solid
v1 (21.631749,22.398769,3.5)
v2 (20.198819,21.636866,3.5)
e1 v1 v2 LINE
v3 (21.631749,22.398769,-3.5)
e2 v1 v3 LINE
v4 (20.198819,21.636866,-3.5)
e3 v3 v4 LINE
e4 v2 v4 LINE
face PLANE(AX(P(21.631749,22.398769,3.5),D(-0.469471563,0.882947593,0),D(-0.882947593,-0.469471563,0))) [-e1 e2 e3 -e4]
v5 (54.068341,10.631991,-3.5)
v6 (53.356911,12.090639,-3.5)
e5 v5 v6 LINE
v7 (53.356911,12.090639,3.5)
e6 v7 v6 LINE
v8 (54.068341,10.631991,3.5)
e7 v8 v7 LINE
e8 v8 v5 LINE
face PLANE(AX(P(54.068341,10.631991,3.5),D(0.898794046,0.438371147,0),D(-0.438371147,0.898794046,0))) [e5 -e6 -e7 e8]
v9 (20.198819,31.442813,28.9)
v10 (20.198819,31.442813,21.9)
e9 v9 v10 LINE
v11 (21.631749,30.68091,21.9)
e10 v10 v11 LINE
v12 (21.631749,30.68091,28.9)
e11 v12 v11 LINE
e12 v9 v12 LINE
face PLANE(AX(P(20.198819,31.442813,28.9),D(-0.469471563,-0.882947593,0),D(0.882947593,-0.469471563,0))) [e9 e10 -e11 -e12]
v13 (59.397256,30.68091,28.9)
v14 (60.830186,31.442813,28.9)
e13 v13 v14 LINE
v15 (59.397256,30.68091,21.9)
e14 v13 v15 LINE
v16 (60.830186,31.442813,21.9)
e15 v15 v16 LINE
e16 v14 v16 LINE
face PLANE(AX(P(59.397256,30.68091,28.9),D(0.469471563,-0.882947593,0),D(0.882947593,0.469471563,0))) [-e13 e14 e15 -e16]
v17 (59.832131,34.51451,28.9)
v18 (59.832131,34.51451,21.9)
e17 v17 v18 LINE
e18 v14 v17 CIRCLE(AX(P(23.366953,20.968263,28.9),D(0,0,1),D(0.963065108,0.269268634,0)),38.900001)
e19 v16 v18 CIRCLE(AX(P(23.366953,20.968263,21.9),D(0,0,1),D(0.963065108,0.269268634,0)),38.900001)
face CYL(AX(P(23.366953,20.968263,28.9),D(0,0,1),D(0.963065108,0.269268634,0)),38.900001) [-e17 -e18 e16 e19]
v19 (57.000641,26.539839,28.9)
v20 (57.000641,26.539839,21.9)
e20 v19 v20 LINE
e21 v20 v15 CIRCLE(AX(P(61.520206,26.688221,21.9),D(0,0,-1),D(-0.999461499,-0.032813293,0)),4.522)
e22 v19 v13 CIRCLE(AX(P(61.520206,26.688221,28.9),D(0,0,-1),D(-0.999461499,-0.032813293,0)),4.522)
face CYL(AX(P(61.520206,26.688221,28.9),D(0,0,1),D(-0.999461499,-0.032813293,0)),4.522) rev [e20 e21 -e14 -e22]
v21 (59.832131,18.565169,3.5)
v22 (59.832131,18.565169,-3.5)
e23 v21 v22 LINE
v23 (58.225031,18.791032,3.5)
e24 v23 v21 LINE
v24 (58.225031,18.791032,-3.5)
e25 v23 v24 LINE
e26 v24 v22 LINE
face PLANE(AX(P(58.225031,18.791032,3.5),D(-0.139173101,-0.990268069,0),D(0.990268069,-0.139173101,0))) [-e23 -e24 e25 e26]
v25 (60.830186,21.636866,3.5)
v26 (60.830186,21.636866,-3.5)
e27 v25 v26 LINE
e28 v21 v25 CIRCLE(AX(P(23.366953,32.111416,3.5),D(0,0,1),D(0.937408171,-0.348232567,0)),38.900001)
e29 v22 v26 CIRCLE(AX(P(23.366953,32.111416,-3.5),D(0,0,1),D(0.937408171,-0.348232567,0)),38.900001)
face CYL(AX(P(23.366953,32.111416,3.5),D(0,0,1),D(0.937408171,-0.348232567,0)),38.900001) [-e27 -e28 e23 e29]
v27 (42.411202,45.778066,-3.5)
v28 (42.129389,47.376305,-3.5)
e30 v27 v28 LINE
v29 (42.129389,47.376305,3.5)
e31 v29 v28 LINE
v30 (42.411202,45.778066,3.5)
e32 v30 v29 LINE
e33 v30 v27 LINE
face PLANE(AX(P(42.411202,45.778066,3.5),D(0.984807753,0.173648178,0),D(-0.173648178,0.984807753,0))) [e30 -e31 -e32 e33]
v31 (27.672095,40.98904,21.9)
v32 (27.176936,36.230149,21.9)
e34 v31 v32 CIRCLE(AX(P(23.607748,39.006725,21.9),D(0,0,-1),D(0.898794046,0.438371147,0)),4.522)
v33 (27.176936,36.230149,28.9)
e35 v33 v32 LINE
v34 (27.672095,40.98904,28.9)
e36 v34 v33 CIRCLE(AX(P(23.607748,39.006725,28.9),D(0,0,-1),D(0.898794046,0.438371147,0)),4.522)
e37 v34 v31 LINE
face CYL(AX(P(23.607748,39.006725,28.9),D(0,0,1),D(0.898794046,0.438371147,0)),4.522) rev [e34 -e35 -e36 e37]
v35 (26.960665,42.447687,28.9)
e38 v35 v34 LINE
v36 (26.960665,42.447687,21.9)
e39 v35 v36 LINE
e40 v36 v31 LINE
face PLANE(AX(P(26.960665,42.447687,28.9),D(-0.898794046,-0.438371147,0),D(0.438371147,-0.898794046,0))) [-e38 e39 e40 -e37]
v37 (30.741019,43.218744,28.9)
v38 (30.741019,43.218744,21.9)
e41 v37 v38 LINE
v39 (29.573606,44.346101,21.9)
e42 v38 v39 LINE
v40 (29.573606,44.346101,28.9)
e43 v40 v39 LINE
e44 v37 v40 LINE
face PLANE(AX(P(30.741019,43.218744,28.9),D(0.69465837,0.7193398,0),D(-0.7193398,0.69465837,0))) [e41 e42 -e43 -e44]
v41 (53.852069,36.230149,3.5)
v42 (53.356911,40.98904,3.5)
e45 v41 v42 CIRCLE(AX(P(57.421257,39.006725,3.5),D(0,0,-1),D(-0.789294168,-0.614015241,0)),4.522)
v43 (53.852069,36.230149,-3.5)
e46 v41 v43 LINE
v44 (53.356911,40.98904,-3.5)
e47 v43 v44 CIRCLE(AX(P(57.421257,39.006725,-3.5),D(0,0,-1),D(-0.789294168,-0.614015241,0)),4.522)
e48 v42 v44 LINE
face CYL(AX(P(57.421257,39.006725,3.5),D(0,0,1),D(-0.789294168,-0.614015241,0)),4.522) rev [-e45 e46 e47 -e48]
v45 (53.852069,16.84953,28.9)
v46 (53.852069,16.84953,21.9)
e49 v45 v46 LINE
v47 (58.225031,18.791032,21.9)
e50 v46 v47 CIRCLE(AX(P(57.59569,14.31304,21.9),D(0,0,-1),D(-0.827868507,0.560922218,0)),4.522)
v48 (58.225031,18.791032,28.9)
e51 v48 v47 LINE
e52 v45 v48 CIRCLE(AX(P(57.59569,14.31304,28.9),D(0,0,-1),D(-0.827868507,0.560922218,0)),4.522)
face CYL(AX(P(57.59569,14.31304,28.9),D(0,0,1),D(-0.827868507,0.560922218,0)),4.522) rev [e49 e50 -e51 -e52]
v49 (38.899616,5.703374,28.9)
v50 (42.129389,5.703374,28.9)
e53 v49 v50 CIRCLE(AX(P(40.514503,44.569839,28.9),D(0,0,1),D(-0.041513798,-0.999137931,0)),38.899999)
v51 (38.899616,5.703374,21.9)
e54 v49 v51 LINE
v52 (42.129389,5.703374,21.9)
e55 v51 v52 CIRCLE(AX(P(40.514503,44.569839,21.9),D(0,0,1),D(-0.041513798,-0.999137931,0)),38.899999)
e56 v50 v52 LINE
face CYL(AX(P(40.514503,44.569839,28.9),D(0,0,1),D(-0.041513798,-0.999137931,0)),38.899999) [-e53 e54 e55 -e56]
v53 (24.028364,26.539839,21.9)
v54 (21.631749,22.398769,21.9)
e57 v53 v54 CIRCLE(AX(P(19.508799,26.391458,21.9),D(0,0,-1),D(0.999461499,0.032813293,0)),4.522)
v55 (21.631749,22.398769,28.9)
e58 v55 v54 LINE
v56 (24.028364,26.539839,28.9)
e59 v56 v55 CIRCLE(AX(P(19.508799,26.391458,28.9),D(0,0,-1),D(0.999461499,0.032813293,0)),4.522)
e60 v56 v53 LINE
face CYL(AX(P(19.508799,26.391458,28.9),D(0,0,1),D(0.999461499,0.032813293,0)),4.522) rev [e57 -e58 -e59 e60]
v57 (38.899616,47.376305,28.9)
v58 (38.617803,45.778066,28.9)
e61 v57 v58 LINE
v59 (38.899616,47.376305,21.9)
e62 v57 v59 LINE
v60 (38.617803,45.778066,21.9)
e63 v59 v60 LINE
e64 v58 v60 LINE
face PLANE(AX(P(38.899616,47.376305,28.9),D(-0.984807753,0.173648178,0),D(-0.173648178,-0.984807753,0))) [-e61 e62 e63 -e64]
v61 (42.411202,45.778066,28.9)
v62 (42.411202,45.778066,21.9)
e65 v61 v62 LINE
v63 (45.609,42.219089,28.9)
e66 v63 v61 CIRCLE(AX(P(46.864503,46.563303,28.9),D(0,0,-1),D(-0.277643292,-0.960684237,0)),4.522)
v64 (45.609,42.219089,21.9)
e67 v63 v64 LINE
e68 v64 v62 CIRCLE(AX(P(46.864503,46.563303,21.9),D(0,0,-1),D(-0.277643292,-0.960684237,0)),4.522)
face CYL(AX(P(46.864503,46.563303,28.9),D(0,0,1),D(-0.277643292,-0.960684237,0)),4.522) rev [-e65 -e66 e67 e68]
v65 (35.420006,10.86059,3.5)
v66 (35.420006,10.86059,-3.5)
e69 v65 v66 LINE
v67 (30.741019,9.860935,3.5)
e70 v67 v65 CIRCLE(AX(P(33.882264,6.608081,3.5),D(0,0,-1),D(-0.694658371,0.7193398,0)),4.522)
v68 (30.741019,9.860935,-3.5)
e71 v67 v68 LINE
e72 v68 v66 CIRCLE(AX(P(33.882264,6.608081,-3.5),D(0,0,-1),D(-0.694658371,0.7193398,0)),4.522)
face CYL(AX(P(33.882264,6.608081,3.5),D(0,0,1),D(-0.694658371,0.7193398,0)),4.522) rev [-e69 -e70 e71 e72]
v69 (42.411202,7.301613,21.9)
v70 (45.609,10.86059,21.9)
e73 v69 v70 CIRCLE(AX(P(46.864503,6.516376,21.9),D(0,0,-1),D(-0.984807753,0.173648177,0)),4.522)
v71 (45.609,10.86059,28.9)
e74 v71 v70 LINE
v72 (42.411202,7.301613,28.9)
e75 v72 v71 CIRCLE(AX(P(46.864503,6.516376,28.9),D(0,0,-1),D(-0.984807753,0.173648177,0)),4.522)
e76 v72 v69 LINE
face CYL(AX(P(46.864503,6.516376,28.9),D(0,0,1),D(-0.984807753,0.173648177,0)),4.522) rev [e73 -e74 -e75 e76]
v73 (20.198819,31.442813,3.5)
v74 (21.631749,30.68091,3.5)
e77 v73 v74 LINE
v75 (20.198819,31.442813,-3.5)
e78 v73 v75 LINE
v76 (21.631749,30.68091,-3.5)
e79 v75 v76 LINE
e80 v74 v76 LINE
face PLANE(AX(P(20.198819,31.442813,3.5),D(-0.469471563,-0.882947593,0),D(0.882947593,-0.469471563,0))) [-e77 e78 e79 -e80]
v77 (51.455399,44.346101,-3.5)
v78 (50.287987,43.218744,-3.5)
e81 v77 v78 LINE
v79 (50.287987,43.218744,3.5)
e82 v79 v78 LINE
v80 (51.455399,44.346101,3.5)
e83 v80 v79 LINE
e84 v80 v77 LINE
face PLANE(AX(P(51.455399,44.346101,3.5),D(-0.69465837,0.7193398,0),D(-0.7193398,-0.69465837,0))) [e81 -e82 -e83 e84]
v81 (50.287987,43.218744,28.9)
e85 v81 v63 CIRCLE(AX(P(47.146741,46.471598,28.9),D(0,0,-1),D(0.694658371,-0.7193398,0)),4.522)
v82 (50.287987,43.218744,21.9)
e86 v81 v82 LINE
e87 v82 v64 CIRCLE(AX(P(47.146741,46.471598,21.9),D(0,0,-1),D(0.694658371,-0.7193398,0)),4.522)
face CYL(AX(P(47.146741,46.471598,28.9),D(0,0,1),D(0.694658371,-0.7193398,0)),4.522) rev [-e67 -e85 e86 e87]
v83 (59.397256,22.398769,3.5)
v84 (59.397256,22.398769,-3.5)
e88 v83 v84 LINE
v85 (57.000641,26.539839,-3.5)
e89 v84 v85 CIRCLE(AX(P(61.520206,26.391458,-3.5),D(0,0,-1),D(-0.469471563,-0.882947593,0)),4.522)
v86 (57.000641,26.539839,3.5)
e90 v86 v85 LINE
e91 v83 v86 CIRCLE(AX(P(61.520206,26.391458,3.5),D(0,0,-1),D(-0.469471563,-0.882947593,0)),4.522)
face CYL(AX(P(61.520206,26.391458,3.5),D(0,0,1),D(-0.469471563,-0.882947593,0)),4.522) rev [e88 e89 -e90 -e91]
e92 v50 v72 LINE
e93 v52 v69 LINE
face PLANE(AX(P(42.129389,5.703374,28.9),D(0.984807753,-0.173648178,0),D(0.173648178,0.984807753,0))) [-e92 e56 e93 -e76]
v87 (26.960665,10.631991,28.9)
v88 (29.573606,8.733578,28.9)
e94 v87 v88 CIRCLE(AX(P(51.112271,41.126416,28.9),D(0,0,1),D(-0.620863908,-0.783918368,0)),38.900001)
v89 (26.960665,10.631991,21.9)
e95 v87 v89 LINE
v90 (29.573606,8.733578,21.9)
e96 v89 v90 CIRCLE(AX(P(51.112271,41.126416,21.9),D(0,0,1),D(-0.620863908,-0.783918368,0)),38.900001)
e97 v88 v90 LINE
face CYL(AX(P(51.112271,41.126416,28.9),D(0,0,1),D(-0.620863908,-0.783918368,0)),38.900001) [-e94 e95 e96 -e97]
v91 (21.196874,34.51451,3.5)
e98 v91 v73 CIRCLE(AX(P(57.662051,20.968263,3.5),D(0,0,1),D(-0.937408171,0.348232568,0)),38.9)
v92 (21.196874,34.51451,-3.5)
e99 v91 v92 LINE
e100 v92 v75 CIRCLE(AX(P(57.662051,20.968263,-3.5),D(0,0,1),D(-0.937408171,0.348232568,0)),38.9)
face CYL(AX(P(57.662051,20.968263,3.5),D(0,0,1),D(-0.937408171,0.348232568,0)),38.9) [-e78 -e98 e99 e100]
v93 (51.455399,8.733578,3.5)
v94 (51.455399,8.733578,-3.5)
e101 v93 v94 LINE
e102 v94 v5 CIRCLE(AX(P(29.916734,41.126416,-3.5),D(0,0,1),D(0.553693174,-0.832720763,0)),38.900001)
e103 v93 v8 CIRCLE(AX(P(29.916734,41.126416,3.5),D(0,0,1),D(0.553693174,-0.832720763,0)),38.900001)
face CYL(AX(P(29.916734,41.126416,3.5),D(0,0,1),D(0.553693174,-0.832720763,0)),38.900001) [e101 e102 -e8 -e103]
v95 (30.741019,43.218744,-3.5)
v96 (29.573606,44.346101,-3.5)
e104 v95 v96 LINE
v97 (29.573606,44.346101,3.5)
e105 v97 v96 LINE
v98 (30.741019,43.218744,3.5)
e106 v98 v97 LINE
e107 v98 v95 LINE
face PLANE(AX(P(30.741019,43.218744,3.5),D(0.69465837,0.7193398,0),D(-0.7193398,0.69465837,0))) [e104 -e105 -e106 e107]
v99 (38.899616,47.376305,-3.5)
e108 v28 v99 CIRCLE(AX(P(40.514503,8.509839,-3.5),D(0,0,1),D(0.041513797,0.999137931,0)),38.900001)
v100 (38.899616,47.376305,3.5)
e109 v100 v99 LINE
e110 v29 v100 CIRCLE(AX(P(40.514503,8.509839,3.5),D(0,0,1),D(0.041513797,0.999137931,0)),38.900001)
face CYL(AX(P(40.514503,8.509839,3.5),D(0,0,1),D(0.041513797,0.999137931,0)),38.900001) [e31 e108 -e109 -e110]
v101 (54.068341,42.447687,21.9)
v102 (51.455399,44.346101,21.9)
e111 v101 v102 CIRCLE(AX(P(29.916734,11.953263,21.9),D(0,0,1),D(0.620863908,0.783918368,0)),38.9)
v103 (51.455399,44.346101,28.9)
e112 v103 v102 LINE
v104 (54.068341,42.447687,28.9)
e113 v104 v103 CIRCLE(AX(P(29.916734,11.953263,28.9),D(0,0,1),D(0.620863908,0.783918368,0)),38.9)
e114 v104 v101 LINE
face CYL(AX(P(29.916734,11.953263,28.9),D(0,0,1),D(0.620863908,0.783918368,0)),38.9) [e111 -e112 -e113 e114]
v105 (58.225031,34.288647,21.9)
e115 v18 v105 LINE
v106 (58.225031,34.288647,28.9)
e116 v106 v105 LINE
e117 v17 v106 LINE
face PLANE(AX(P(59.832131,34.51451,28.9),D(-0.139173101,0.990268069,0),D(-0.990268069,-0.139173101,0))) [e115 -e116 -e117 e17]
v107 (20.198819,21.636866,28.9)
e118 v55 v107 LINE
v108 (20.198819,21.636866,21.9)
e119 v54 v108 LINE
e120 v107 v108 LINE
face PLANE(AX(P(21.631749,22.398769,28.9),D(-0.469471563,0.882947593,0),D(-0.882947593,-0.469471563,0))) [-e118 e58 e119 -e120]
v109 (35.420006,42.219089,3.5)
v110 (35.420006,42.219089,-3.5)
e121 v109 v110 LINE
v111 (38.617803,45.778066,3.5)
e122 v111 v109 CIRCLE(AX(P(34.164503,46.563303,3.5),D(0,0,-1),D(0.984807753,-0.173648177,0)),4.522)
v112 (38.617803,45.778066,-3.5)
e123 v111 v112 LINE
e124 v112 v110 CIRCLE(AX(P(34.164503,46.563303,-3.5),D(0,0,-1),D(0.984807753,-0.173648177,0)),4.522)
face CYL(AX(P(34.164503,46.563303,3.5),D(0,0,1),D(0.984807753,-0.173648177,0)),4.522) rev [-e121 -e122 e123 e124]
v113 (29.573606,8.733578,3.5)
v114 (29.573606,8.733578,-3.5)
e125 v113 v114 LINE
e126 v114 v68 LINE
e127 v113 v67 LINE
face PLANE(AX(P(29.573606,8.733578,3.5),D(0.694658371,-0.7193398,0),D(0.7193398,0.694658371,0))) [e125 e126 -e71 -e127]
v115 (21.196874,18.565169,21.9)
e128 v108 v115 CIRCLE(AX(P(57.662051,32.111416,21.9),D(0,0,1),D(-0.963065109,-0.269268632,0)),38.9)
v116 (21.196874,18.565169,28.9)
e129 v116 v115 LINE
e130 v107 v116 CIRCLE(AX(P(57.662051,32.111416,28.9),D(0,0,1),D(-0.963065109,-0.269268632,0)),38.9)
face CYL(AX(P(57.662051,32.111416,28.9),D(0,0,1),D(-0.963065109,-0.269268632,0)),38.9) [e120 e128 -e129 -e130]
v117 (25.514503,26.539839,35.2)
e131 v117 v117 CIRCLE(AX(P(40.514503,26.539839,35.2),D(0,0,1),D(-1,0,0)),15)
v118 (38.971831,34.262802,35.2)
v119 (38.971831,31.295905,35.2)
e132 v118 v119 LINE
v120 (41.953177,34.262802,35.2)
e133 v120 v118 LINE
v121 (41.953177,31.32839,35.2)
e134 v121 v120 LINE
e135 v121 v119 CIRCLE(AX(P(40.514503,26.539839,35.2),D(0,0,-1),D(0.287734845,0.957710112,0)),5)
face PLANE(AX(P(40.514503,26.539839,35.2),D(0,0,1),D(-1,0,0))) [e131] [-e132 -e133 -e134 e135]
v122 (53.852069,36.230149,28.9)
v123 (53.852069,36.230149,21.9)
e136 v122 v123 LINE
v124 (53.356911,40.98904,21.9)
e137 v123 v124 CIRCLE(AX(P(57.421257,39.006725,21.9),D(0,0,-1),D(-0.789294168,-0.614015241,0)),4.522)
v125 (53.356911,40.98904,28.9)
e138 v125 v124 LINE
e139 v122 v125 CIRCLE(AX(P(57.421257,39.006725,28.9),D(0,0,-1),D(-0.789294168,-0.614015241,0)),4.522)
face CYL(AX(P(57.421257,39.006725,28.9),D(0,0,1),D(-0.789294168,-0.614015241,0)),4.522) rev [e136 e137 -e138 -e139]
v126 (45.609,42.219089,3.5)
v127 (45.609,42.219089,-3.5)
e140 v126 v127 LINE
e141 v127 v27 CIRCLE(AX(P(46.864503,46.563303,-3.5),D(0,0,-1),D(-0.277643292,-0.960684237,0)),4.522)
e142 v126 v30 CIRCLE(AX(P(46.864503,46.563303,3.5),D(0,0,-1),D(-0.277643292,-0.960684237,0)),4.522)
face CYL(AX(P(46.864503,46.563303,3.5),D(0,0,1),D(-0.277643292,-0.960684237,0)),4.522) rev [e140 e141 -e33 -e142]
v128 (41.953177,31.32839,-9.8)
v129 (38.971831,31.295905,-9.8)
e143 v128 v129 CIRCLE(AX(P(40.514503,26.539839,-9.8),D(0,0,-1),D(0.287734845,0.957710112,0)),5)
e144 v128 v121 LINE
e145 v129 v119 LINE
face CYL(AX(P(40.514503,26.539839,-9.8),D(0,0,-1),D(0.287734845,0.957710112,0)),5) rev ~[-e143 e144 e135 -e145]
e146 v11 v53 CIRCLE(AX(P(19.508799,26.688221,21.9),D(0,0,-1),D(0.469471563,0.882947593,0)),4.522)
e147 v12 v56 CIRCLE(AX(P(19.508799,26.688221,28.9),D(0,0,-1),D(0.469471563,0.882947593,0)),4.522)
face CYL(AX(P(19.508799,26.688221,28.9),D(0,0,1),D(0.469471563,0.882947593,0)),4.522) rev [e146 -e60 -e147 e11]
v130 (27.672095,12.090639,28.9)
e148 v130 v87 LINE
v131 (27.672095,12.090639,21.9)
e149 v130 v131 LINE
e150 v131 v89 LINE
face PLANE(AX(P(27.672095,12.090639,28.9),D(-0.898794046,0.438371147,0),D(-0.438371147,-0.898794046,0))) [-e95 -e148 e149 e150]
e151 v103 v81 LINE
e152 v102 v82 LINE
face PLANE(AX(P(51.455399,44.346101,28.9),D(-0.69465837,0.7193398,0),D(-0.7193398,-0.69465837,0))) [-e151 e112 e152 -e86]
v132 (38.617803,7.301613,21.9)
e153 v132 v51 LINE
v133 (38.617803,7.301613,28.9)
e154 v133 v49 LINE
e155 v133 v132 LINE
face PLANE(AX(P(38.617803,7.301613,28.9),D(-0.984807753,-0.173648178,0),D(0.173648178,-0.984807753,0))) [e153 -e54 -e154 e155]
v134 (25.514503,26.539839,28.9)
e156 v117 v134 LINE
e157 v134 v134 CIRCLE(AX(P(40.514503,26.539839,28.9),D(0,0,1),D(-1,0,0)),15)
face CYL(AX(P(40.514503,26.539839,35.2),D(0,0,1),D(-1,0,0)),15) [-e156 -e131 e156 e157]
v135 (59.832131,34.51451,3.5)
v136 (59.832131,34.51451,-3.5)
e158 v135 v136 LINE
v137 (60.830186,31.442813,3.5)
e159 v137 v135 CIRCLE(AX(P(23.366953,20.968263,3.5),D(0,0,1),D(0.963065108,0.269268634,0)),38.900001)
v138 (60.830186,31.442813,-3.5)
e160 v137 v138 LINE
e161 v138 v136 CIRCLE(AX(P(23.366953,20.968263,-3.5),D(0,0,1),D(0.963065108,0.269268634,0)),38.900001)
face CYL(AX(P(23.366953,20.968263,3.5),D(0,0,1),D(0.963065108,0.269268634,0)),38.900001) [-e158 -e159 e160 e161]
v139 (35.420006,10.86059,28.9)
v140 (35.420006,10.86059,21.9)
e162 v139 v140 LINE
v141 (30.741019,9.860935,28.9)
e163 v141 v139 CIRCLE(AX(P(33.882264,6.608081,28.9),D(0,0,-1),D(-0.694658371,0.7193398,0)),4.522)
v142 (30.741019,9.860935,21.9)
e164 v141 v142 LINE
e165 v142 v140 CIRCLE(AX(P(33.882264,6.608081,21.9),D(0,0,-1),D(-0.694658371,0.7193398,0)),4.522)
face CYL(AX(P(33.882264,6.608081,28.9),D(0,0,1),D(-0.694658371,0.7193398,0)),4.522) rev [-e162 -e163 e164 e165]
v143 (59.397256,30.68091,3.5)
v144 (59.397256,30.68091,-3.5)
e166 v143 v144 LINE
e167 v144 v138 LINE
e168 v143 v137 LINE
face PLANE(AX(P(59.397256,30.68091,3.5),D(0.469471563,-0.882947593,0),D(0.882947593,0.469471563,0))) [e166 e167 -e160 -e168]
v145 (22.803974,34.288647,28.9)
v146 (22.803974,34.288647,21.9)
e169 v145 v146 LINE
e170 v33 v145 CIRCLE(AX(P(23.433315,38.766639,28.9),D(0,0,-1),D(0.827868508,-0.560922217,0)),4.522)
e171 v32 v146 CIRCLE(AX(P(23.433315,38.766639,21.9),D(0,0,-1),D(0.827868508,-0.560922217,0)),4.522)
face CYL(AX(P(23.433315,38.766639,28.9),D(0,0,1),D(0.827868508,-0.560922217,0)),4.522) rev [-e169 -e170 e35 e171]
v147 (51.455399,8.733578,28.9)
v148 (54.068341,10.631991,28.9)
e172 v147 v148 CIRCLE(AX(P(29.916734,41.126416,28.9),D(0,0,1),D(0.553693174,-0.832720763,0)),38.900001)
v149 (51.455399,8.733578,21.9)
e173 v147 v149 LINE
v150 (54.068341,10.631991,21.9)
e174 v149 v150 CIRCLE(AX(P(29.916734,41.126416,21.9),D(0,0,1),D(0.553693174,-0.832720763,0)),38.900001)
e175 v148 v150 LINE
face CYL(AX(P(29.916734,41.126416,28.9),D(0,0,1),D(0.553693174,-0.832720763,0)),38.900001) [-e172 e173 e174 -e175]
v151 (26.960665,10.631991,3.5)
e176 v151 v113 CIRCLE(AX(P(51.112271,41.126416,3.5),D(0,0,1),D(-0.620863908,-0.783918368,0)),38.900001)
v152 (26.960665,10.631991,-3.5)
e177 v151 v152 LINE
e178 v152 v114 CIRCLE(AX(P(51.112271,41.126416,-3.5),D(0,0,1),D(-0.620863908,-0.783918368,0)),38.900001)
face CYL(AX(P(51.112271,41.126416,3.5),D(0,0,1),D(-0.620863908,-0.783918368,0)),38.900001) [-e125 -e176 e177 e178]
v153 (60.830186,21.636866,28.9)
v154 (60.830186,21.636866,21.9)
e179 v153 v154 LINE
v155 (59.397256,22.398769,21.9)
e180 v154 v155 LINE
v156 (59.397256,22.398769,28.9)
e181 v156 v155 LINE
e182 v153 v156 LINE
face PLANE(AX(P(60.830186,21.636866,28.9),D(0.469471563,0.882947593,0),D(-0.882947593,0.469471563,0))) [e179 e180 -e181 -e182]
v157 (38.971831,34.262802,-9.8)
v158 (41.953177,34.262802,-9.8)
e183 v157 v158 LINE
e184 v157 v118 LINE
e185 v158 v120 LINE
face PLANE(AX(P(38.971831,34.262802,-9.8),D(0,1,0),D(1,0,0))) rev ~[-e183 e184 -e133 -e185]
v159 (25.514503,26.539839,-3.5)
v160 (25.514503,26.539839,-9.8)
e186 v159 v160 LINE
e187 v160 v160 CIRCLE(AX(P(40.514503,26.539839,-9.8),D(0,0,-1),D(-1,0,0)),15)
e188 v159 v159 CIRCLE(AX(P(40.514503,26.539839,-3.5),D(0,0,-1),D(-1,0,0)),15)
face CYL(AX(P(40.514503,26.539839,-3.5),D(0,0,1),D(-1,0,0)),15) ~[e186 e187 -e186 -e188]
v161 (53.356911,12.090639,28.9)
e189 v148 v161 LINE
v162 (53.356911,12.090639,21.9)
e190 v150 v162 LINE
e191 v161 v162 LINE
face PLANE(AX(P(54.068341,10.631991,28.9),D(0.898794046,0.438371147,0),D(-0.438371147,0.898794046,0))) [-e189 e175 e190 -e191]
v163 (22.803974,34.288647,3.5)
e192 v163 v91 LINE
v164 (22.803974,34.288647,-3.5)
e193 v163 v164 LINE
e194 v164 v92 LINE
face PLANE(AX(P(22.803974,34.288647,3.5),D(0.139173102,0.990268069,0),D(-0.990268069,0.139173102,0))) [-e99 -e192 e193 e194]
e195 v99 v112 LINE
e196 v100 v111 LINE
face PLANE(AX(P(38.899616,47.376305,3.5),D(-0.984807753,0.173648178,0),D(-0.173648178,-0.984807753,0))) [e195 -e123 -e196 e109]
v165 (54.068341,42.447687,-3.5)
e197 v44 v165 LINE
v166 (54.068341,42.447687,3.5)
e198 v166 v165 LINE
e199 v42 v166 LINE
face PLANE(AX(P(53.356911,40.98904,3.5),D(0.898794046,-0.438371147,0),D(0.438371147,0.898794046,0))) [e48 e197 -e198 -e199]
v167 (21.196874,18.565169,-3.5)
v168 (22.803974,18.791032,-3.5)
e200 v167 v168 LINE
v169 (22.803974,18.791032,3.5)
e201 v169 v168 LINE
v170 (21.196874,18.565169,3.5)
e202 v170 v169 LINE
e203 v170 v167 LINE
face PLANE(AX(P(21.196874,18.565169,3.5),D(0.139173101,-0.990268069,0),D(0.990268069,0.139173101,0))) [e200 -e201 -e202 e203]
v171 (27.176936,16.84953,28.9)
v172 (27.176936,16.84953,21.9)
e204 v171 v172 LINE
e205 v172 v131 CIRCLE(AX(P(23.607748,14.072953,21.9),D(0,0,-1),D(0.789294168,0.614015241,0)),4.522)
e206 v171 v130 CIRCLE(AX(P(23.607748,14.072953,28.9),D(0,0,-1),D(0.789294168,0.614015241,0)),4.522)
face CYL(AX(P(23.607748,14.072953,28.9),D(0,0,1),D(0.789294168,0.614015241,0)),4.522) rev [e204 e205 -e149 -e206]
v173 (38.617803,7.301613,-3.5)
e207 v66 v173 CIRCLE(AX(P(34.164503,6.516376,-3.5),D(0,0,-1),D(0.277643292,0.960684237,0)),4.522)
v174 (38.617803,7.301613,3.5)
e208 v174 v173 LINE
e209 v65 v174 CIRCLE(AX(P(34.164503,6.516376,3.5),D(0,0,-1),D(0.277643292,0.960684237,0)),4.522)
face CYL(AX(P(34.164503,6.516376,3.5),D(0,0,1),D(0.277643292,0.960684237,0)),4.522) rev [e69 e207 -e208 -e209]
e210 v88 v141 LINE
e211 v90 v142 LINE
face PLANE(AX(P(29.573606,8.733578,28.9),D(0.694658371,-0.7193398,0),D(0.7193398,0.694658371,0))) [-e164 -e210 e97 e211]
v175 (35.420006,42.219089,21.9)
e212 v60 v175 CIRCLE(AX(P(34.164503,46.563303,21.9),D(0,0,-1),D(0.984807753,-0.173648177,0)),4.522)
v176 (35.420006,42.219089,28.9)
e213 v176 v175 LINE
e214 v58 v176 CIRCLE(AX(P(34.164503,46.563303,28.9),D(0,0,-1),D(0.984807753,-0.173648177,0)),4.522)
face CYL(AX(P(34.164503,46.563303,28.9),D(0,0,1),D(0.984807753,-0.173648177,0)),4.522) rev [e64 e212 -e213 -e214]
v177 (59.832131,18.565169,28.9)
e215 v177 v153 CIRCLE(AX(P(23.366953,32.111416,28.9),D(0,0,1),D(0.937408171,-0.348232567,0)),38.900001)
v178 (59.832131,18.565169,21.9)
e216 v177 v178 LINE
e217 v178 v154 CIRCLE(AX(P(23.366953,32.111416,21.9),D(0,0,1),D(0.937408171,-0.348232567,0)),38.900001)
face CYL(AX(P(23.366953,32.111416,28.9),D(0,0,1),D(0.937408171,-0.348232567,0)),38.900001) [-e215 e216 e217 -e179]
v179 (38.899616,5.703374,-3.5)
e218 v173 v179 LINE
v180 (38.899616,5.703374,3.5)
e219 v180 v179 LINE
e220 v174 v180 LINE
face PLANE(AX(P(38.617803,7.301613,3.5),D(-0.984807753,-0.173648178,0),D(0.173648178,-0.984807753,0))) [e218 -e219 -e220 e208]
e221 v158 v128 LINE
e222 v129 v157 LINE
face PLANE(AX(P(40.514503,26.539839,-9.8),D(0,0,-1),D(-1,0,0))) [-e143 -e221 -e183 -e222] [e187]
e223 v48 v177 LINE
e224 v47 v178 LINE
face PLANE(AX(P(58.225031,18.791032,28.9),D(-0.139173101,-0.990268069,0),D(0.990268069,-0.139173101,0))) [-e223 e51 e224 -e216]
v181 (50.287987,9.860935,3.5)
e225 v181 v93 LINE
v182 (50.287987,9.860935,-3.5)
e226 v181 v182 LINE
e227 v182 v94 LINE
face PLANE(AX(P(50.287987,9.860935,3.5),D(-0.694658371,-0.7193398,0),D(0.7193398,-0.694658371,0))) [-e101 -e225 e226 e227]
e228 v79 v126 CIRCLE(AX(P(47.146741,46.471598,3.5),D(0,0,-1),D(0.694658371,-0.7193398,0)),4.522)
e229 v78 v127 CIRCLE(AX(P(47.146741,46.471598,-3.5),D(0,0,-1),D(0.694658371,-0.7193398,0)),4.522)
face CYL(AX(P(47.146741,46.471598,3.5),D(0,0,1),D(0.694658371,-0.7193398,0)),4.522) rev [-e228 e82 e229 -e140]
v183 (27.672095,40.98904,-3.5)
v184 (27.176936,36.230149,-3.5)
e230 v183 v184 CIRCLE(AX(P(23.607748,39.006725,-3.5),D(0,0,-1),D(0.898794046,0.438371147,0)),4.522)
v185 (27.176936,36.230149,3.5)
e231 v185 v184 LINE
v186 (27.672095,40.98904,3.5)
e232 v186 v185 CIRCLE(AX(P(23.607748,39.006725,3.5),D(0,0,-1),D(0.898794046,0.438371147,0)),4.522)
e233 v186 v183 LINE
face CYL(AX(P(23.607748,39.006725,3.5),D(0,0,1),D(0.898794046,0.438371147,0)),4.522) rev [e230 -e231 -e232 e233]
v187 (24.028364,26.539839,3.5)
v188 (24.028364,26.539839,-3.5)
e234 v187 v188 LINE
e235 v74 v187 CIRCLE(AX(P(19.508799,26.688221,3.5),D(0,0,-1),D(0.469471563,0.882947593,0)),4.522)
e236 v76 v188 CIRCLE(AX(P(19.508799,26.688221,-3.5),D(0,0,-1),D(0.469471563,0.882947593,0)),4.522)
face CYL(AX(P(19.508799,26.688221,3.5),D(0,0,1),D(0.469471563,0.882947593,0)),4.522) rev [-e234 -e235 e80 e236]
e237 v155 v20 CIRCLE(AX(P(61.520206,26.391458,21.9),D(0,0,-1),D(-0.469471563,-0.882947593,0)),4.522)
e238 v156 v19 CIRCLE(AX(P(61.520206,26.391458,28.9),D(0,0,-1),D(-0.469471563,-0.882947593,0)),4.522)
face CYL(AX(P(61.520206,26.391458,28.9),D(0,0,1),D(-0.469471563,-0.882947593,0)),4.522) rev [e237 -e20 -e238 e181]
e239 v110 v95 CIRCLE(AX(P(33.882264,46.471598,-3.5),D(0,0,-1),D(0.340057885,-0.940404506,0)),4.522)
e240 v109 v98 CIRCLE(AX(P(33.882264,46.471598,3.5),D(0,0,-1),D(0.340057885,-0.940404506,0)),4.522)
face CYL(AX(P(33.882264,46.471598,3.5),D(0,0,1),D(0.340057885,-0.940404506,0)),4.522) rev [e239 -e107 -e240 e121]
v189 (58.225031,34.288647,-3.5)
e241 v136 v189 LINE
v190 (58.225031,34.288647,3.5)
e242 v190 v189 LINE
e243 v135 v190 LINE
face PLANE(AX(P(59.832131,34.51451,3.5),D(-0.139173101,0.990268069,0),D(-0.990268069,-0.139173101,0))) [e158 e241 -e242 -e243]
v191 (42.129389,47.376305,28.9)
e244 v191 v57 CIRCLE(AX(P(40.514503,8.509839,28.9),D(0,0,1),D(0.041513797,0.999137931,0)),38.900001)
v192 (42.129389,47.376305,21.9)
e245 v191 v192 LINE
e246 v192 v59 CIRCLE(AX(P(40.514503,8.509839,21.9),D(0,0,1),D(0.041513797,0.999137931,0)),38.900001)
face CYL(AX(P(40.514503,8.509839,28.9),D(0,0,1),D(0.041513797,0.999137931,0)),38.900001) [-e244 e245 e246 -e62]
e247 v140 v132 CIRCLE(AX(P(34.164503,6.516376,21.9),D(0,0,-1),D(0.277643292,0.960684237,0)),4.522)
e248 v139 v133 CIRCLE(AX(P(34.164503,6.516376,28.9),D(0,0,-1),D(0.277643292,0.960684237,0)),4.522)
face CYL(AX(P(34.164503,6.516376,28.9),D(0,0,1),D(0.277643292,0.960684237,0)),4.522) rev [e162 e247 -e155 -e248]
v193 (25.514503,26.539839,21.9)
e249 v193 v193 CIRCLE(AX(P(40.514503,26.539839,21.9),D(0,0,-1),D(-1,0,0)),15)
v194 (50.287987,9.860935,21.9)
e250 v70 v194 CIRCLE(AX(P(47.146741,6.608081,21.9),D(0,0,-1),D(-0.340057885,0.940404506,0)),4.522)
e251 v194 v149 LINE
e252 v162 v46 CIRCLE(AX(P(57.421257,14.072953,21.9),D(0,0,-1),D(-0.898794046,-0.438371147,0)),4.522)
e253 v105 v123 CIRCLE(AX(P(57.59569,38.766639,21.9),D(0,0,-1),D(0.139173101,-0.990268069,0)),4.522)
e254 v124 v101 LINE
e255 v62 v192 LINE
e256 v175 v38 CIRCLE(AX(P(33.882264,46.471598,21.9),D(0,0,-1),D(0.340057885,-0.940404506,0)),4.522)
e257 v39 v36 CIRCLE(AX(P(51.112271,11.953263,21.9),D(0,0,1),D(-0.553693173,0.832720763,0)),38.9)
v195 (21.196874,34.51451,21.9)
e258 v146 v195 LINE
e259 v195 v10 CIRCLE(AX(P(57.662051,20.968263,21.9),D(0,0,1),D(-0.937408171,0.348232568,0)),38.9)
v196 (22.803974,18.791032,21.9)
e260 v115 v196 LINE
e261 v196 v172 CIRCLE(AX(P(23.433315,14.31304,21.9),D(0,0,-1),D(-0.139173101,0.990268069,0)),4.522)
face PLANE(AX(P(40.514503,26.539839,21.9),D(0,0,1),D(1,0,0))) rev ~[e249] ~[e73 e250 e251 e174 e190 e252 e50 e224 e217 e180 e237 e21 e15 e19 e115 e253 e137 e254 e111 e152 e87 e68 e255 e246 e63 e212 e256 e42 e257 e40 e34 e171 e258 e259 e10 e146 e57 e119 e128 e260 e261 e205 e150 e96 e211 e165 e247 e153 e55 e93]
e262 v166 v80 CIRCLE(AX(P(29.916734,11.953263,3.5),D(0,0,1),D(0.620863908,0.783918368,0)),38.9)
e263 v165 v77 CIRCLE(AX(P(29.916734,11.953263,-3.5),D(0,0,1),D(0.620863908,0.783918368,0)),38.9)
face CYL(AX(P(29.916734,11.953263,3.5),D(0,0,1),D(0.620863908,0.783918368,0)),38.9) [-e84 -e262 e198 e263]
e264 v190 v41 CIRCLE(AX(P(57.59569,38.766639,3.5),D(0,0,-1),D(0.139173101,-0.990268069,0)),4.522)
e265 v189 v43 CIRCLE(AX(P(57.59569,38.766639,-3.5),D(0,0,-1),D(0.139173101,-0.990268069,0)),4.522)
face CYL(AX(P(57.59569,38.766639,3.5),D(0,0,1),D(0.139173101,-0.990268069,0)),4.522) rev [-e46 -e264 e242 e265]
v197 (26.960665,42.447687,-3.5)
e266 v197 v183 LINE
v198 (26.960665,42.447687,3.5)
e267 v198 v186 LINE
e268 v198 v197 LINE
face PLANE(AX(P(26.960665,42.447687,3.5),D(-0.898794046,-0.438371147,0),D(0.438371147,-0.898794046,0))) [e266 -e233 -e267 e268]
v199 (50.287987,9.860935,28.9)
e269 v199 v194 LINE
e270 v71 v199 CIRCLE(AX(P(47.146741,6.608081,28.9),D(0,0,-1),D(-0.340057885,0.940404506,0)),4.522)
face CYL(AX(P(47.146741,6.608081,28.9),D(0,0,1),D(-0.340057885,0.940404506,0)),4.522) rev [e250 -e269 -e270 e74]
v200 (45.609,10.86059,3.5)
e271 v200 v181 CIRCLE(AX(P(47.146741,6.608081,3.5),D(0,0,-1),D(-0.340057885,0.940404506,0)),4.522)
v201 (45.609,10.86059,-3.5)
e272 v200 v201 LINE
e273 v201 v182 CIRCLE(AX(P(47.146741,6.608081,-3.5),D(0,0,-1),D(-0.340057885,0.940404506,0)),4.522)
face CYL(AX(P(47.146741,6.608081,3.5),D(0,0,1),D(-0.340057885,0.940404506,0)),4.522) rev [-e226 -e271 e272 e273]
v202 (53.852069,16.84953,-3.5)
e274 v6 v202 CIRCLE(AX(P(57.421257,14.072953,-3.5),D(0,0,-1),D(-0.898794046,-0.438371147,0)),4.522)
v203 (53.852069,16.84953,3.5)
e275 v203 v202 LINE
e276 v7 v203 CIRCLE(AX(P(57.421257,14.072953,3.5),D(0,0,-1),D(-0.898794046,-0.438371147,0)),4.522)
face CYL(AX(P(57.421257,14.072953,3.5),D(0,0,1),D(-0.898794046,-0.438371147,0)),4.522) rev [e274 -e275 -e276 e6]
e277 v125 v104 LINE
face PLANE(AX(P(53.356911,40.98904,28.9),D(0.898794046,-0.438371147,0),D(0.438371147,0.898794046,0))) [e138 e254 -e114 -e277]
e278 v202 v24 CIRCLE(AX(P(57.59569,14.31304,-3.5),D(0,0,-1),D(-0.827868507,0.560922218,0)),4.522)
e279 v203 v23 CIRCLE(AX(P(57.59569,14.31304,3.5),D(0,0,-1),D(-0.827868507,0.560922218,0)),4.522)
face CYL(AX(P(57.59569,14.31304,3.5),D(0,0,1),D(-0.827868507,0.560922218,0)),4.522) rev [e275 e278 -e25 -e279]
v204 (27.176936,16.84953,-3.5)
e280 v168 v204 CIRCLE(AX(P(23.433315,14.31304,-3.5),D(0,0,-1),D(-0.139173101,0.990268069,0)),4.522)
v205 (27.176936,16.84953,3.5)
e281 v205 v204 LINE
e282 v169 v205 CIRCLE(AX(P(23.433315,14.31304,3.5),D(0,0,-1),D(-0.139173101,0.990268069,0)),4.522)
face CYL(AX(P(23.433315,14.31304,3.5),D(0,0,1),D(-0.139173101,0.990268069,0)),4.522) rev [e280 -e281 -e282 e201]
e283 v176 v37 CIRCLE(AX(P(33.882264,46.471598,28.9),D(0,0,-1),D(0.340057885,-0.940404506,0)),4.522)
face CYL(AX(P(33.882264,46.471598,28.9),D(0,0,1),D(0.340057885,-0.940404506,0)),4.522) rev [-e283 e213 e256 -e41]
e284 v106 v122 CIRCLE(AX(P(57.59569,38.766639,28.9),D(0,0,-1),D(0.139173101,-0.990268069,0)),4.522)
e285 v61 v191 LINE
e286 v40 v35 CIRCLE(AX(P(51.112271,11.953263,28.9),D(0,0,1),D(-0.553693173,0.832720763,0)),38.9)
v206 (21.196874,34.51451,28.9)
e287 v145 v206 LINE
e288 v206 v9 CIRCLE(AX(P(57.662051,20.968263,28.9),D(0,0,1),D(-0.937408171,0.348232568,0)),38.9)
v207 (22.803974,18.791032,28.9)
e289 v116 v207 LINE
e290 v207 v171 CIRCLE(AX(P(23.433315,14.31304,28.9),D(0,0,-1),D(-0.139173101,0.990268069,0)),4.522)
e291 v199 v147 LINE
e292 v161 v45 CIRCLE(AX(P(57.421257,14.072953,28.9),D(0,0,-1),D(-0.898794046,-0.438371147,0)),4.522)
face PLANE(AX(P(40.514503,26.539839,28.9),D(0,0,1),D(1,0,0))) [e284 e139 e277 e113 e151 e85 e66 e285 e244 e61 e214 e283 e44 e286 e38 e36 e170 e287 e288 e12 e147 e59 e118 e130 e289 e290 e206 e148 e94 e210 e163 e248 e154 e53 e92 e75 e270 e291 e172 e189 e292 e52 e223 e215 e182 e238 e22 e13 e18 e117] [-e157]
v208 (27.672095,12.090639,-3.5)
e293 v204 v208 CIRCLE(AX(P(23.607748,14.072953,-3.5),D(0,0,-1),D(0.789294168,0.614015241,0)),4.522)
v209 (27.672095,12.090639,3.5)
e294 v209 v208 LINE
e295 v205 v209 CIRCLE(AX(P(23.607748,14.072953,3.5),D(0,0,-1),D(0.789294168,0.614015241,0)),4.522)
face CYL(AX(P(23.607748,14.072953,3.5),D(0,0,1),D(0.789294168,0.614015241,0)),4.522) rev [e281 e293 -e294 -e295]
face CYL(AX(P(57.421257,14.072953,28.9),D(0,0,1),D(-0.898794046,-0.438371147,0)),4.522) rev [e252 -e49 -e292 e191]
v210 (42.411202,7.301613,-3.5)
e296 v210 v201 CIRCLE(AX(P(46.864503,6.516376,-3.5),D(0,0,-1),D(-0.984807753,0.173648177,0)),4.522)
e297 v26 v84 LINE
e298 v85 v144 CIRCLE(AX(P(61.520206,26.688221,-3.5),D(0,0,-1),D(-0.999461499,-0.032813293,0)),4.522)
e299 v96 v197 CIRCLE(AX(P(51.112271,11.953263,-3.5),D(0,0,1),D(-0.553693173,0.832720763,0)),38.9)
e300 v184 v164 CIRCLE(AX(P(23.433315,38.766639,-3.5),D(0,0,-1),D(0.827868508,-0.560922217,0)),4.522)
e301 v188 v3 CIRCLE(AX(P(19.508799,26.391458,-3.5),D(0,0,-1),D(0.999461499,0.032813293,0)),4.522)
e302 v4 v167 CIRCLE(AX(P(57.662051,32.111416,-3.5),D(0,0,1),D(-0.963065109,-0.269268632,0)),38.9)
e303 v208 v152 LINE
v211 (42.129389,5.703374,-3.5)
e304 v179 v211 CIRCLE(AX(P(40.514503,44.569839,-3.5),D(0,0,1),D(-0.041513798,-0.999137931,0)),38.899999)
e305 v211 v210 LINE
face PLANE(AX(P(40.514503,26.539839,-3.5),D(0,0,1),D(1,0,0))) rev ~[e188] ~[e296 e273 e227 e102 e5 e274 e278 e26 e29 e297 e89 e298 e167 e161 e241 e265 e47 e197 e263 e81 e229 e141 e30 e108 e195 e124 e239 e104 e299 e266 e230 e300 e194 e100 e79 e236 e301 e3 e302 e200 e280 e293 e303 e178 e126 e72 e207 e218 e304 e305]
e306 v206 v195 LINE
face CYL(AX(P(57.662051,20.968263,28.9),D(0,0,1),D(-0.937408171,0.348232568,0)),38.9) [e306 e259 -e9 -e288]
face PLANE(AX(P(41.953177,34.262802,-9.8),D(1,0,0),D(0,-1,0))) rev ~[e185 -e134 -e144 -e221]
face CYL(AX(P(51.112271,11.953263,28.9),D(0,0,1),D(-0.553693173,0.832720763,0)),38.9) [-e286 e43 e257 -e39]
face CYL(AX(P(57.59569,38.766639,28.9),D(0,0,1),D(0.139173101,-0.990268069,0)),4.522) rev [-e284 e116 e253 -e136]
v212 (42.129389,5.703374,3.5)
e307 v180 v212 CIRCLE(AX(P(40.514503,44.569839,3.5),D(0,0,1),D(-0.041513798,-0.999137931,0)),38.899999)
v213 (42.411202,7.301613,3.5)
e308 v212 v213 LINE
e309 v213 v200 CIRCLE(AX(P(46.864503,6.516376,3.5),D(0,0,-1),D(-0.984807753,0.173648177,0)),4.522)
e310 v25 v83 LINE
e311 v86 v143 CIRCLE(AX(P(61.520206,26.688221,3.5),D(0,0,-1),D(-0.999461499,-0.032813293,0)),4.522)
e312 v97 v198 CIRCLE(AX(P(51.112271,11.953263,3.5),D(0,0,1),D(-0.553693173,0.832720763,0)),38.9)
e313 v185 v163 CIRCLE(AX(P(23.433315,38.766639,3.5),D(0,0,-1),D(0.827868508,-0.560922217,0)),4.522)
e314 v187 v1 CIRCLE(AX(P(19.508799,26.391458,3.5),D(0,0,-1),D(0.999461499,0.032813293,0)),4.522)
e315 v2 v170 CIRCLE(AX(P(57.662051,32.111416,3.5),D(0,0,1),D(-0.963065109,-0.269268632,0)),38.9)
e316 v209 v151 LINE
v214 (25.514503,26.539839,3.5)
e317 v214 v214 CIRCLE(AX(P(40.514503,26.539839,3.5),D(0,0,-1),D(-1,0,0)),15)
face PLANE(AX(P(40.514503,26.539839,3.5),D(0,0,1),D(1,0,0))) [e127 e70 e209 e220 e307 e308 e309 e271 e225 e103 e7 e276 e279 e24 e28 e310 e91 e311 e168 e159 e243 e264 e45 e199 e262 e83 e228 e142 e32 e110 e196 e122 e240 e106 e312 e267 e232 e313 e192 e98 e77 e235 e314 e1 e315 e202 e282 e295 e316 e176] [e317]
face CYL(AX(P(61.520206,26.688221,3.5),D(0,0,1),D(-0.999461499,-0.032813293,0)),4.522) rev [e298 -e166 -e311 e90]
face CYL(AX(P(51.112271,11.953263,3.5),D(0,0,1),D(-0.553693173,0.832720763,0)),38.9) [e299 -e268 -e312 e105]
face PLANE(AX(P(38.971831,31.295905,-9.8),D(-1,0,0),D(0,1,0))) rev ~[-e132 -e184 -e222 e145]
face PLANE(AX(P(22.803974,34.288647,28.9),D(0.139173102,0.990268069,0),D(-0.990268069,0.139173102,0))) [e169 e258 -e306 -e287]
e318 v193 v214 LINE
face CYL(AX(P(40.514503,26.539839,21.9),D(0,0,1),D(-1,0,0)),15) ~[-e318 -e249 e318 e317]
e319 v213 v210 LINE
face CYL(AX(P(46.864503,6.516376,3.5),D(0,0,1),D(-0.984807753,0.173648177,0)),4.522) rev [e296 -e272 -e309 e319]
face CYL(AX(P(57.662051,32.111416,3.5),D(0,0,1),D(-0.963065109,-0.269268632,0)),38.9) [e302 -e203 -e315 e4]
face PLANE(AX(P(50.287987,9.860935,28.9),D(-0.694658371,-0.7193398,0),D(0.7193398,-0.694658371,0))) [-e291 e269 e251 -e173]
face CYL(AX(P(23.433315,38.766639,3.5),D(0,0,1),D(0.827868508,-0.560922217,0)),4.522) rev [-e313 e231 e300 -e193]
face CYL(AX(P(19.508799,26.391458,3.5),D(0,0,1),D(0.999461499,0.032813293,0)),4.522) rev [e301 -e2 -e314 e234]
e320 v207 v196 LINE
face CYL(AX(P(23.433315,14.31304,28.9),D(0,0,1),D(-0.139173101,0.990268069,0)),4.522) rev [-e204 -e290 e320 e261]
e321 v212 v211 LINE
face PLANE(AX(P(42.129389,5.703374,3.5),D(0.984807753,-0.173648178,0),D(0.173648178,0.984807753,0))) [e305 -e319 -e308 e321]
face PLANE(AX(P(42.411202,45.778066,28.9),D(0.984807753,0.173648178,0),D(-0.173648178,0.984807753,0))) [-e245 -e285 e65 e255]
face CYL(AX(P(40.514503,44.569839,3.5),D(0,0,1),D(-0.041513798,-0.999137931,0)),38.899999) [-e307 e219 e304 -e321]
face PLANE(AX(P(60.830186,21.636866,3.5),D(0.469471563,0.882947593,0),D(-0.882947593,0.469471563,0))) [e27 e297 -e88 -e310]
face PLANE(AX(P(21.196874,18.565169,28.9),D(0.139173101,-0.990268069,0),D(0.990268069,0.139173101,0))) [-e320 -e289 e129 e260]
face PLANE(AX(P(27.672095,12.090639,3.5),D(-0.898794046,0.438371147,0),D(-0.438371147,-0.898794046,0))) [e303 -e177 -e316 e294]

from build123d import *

# Parameters (mm, degrees)
EXTRUDE_1_DEPTH     = 7
SKETCH_2_R          = 15
EXTRUDE_2_DEPTH     = 18.4
EXTRUDE_3_DEPTH     = 7
EXTRUDE_START       = 6.3
SKETCH_4_R          = 15
EXTRUDE_4_DEPTH     = 6.3
SKETCH_5_R          = 15
EXTRUDE_5_DEPTH     = 6.3
CUT_EXTRUDE_1_DEPTH = 90.291681756


with BuildPart() as part:
    # 草图1 → 凸台-拉伸1 (new body)
    with BuildSketch(Plane.XY.offset(28.9)):
        with BuildLine():
            Line((42.411201909, 45.77806603), (42.129389286, 47.376304833))
            ThreePointArc((42.129389286, 47.376304833), (40.514502568, 47.409839327), (38.89961585, 47.376304833))
            Line((38.89961585, 47.376304833), (38.617803227, 45.77806603))
            ThreePointArc((38.617803227, 45.77806603), (37.528159676, 43.541003491), (35.420005537, 42.219088972))
            ThreePointArc((35.420005537, 42.219088972), (32.937471152, 42.04939837), (30.741018632, 43.218743572))
            Line((30.741018632, 43.218743572), (29.573606233, 44.346100621))
            ThreePointArc((29.573606233, 44.346100621), (28.247424353, 43.424024), (26.960664635, 42.447687427))
            Line((26.960664635, 42.447687427), (27.672094632, 40.98903977))
            ThreePointArc((27.672094632, 40.98903977), (28.10546685, 38.538741749), (27.176936184, 36.230148526))
            ThreePointArc((27.176936184, 36.230148526), (25.268265311, 34.633668845), (22.80397403, 34.288646587))
            Line((22.80397403, 34.288646587), (21.196873713, 34.514509808))
            ThreePointArc((21.196873713, 34.514509808), (20.665953073, 32.989024), (20.198818833, 31.442812735))
            Line((20.198818833, 31.442812735), (21.631749371, 30.680910052))
            ThreePointArc((21.631749371, 30.680910052), (23.422603901, 28.95330711), (24.028363863, 26.539839327))
            ThreePointArc((24.028363863, 26.539839327), (23.422603901, 24.126371544), (21.631749371, 22.398768602))
            Line((21.631749371, 22.398768602), (20.198818833, 21.63686592))
            ThreePointArc((20.198818833, 21.63686592), (20.665953073, 20.090654655), (21.196873713, 18.565168847))
            Line((21.196873713, 18.565168847), (22.80397403, 18.791032067))
            ThreePointArc((22.80397403, 18.791032067), (25.268265311, 18.446009809), (27.176936184, 16.849530129))
            ThreePointArc((27.176936184, 16.849530129), (28.10546685, 14.540936905), (27.672094632, 12.090638884))
            Line((27.672094632, 12.090638884), (26.960664635, 10.631991228))
            ThreePointArc((26.960664635, 10.631991228), (28.247424353, 9.655654655), (29.573606233, 8.733578033))
            Line((29.573606233, 8.733578033), (30.741018632, 9.860935083))
            ThreePointArc((30.741018632, 9.860935083), (32.937471152, 11.030280285), (35.420005536, 10.860589683))
            ThreePointArc((35.420005536, 10.860589683), (37.528159676, 9.538675164), (38.617803227, 7.301612625))
            Line((38.617803227, 7.301612625), (38.89961585, 5.703373822))
            ThreePointArc((38.89961585, 5.703373822), (40.514502568, 5.669839327), (42.129389286, 5.703373822))
            Line((42.129389286, 5.703373822), (42.411201909, 7.301612625))
            ThreePointArc((42.411201909, 7.301612625), (43.50084546, 9.538675164), (45.6089996, 10.860589683))
            ThreePointArc((45.6089996, 10.860589683), (48.091533984, 11.030280285), (50.287986504, 9.860935083))
            Line((50.287986504, 9.860935083), (51.455398903, 8.733578033))
            ThreePointArc((51.455398903, 8.733578033), (52.781580783, 9.655654655), (54.068340501, 10.631991228))
            Line((54.068340501, 10.631991228), (53.356910504, 12.090638884))
            ThreePointArc((53.356910504, 12.090638884), (52.923538286, 14.540936905), (53.852068952, 16.849530129))
            ThreePointArc((53.852068952, 16.849530129), (55.760739826, 18.446009809), (58.225031106, 18.791032067))
            Line((58.225031106, 18.791032067), (59.832131424, 18.565168847))
            ThreePointArc((59.832131424, 18.565168847), (60.363052063, 20.090654655), (60.830186304, 21.63686592))
            Line((60.830186304, 21.63686592), (59.397255765, 22.398768602))
            ThreePointArc((59.397255765, 22.398768602), (57.606401235, 24.126371544), (57.000641274, 26.539839327))
            ThreePointArc((57.000641274, 26.539839327), (57.606401235, 28.95330711), (59.397255765, 30.680910052))
            Line((59.397255765, 30.680910052), (60.830186304, 31.442812735))
            ThreePointArc((60.830186304, 31.442812735), (60.363052063, 32.989024), (59.832131424, 34.514509808))
            Line((59.832131424, 34.514509808), (58.225031106, 34.288646587))
            ThreePointArc((58.225031106, 34.288646587), (55.760739826, 34.633668845), (53.852068952, 36.230148526))
            ThreePointArc((53.852068952, 36.230148526), (52.923538286, 38.538741749), (53.356910504, 40.98903977))
            Line((53.356910504, 40.98903977), (54.068340501, 42.447687427))
            ThreePointArc((54.068340501, 42.447687427), (52.781580783, 43.424024), (51.455398903, 44.346100621))
            Line((51.455398903, 44.346100621), (50.287986504, 43.218743572))
            ThreePointArc((50.287986504, 43.218743572), (48.091533984, 42.04939837), (45.6089996, 42.219088972))
            ThreePointArc((45.6089996, 42.219088972), (43.50084546, 43.541003491), (42.411201909, 45.77806603))
        make_face()
    extrude(amount=-EXTRUDE_1_DEPTH)

    # 草图2 → 凸台-拉伸2 (add)
    with BuildSketch(Plane(origin=(0, 0, 21.9), x_dir=(-1, 0, 0), z_dir=(0, 0, -1))):
        with Locations((-40.514502568, 26.539839327)):
            Circle(SKETCH_2_R)
    extrude(amount=EXTRUDE_2_DEPTH)

    # 草图3 → 凸台-拉伸3 (add)
    with BuildSketch(Plane.XY.offset(3.5)):
        with BuildLine():
            Line((42.411201909, 45.77806603), (42.129389286, 47.376304833))
            ThreePointArc((42.129389286, 47.376304833), (40.514502568, 47.409839327), (38.89961585, 47.376304833))
            Line((38.89961585, 47.376304833), (38.617803227, 45.77806603))
            ThreePointArc((38.617803227, 45.77806603), (37.528159676, 43.541003491), (35.420005537, 42.219088972))
            ThreePointArc((35.420005537, 42.219088972), (32.937471152, 42.04939837), (30.741018632, 43.218743572))
            Line((30.741018632, 43.218743572), (29.573606233, 44.346100621))
            ThreePointArc((29.573606233, 44.346100621), (28.247424353, 43.424024), (26.960664635, 42.447687427))
            Line((26.960664635, 42.447687427), (27.672094632, 40.98903977))
            ThreePointArc((27.672094632, 40.98903977), (28.10546685, 38.538741749), (27.176936184, 36.230148526))
            ThreePointArc((27.176936184, 36.230148526), (25.268265311, 34.633668845), (22.80397403, 34.288646587))
            Line((22.80397403, 34.288646587), (21.196873713, 34.514509808))
            ThreePointArc((21.196873713, 34.514509808), (20.665953073, 32.989024), (20.198818833, 31.442812735))
            Line((20.198818833, 31.442812735), (21.631749371, 30.680910052))
            ThreePointArc((21.631749371, 30.680910052), (23.422603901, 28.95330711), (24.028363863, 26.539839327))
            ThreePointArc((24.028363863, 26.539839327), (23.422603901, 24.126371544), (21.631749371, 22.398768602))
            Line((21.631749371, 22.398768602), (20.198818833, 21.63686592))
            ThreePointArc((20.198818833, 21.63686592), (20.665953073, 20.090654655), (21.196873713, 18.565168847))
            Line((21.196873713, 18.565168847), (22.80397403, 18.791032067))
            ThreePointArc((22.80397403, 18.791032067), (25.268265311, 18.446009809), (27.176936184, 16.849530129))
            ThreePointArc((27.176936184, 16.849530129), (28.10546685, 14.540936905), (27.672094632, 12.090638884))
            Line((27.672094632, 12.090638884), (26.960664635, 10.631991228))
            ThreePointArc((26.960664635, 10.631991228), (28.247424353, 9.655654655), (29.573606233, 8.733578033))
            Line((29.573606233, 8.733578033), (30.741018632, 9.860935083))
            ThreePointArc((30.741018632, 9.860935083), (32.937471152, 11.030280285), (35.420005536, 10.860589683))
            ThreePointArc((35.420005536, 10.860589683), (37.528159676, 9.538675164), (38.617803227, 7.301612625))
            Line((38.617803227, 7.301612625), (38.89961585, 5.703373822))
            ThreePointArc((38.89961585, 5.703373822), (40.514502568, 5.669839327), (42.129389286, 5.703373822))
            Line((42.129389286, 5.703373822), (42.411201909, 7.301612625))
            ThreePointArc((42.411201909, 7.301612625), (43.50084546, 9.538675164), (45.6089996, 10.860589683))
            ThreePointArc((45.6089996, 10.860589683), (48.091533984, 11.030280285), (50.287986504, 9.860935083))
            Line((50.287986504, 9.860935083), (51.455398903, 8.733578033))
            ThreePointArc((51.455398903, 8.733578033), (52.781580783, 9.655654655), (54.068340501, 10.631991228))
            Line((54.068340501, 10.631991228), (53.356910504, 12.090638884))
            ThreePointArc((53.356910504, 12.090638884), (52.923538286, 14.540936905), (53.852068952, 16.849530129))
            ThreePointArc((53.852068952, 16.849530129), (55.760739826, 18.446009809), (58.225031106, 18.791032067))
            Line((58.225031106, 18.791032067), (59.832131424, 18.565168847))
            ThreePointArc((59.832131424, 18.565168847), (60.363052063, 20.090654655), (60.830186304, 21.63686592))
            Line((60.830186304, 21.63686592), (59.397255765, 22.398768602))
            ThreePointArc((59.397255765, 22.398768602), (57.606401235, 24.126371544), (57.000641274, 26.539839327))
            ThreePointArc((57.000641274, 26.539839327), (57.606401235, 28.95330711), (59.397255765, 30.680910052))
            Line((59.397255765, 30.680910052), (60.830186304, 31.442812735))
            ThreePointArc((60.830186304, 31.442812735), (60.363052063, 32.989024), (59.832131424, 34.514509808))
            Line((59.832131424, 34.514509808), (58.225031106, 34.288646587))
            ThreePointArc((58.225031106, 34.288646587), (55.760739826, 34.633668845), (53.852068952, 36.230148526))
            ThreePointArc((53.852068952, 36.230148526), (52.923538286, 38.538741749), (53.356910504, 40.98903977))
            Line((53.356910504, 40.98903977), (54.068340501, 42.447687427))
            ThreePointArc((54.068340501, 42.447687427), (52.781580783, 43.424024), (51.455398903, 44.346100621))
            Line((51.455398903, 44.346100621), (50.287986504, 43.218743572))
            ThreePointArc((50.287986504, 43.218743572), (48.091533984, 42.04939837), (45.6089996, 42.219088972))
            ThreePointArc((45.6089996, 42.219088972), (43.50084546, 43.541003491), (42.411201909, 45.77806603))
        make_face()
    extrude(amount=-EXTRUDE_3_DEPTH)

    # 草图4 → 凸台-拉伸4 (add)
    with BuildSketch(Plane.XY.offset(28.9).offset(EXTRUDE_START)):
        with Locations(Location((40.514502568, 26.539839327, 0), (0, 0, 180))):
            Circle(SKETCH_4_R)
    extrude(amount=-EXTRUDE_4_DEPTH)

    # 草图5 → 凸台-拉伸5 (add)
    with BuildSketch(Plane(origin=(0, 0, -3.5), x_dir=(-1, 0, 0), z_dir=(0, 0, -1))):
        with Locations((-40.514502568, 26.539839327)):
            Circle(SKETCH_5_R)
    extrude(amount=EXTRUDE_5_DEPTH)

    # 草图6 → 切除-拉伸1 (cut, through all)
    with BuildSketch(Plane(origin=(0, 0, -9.8), x_dir=(-1, 0, 0), z_dir=(0, 0, -1))):
        with BuildLine():
            Line((-38.971830845, 31.295905344), (-38.971830845, 34.262802089))
            Line((-38.971830845, 34.262802089), (-41.953176795, 34.262802089))
            Line((-41.953176795, 34.262802089), (-41.953176795, 31.328389888))
            ThreePointArc((-41.953176795, 31.328389888), (-40.568978996, 21.540136104), (-38.971830845, 31.295905344))
        make_face()
    extrude(amount=-CUT_EXTRUDE_1_DEPTH, mode=Mode.SUBTRACT)


solid = part.part
